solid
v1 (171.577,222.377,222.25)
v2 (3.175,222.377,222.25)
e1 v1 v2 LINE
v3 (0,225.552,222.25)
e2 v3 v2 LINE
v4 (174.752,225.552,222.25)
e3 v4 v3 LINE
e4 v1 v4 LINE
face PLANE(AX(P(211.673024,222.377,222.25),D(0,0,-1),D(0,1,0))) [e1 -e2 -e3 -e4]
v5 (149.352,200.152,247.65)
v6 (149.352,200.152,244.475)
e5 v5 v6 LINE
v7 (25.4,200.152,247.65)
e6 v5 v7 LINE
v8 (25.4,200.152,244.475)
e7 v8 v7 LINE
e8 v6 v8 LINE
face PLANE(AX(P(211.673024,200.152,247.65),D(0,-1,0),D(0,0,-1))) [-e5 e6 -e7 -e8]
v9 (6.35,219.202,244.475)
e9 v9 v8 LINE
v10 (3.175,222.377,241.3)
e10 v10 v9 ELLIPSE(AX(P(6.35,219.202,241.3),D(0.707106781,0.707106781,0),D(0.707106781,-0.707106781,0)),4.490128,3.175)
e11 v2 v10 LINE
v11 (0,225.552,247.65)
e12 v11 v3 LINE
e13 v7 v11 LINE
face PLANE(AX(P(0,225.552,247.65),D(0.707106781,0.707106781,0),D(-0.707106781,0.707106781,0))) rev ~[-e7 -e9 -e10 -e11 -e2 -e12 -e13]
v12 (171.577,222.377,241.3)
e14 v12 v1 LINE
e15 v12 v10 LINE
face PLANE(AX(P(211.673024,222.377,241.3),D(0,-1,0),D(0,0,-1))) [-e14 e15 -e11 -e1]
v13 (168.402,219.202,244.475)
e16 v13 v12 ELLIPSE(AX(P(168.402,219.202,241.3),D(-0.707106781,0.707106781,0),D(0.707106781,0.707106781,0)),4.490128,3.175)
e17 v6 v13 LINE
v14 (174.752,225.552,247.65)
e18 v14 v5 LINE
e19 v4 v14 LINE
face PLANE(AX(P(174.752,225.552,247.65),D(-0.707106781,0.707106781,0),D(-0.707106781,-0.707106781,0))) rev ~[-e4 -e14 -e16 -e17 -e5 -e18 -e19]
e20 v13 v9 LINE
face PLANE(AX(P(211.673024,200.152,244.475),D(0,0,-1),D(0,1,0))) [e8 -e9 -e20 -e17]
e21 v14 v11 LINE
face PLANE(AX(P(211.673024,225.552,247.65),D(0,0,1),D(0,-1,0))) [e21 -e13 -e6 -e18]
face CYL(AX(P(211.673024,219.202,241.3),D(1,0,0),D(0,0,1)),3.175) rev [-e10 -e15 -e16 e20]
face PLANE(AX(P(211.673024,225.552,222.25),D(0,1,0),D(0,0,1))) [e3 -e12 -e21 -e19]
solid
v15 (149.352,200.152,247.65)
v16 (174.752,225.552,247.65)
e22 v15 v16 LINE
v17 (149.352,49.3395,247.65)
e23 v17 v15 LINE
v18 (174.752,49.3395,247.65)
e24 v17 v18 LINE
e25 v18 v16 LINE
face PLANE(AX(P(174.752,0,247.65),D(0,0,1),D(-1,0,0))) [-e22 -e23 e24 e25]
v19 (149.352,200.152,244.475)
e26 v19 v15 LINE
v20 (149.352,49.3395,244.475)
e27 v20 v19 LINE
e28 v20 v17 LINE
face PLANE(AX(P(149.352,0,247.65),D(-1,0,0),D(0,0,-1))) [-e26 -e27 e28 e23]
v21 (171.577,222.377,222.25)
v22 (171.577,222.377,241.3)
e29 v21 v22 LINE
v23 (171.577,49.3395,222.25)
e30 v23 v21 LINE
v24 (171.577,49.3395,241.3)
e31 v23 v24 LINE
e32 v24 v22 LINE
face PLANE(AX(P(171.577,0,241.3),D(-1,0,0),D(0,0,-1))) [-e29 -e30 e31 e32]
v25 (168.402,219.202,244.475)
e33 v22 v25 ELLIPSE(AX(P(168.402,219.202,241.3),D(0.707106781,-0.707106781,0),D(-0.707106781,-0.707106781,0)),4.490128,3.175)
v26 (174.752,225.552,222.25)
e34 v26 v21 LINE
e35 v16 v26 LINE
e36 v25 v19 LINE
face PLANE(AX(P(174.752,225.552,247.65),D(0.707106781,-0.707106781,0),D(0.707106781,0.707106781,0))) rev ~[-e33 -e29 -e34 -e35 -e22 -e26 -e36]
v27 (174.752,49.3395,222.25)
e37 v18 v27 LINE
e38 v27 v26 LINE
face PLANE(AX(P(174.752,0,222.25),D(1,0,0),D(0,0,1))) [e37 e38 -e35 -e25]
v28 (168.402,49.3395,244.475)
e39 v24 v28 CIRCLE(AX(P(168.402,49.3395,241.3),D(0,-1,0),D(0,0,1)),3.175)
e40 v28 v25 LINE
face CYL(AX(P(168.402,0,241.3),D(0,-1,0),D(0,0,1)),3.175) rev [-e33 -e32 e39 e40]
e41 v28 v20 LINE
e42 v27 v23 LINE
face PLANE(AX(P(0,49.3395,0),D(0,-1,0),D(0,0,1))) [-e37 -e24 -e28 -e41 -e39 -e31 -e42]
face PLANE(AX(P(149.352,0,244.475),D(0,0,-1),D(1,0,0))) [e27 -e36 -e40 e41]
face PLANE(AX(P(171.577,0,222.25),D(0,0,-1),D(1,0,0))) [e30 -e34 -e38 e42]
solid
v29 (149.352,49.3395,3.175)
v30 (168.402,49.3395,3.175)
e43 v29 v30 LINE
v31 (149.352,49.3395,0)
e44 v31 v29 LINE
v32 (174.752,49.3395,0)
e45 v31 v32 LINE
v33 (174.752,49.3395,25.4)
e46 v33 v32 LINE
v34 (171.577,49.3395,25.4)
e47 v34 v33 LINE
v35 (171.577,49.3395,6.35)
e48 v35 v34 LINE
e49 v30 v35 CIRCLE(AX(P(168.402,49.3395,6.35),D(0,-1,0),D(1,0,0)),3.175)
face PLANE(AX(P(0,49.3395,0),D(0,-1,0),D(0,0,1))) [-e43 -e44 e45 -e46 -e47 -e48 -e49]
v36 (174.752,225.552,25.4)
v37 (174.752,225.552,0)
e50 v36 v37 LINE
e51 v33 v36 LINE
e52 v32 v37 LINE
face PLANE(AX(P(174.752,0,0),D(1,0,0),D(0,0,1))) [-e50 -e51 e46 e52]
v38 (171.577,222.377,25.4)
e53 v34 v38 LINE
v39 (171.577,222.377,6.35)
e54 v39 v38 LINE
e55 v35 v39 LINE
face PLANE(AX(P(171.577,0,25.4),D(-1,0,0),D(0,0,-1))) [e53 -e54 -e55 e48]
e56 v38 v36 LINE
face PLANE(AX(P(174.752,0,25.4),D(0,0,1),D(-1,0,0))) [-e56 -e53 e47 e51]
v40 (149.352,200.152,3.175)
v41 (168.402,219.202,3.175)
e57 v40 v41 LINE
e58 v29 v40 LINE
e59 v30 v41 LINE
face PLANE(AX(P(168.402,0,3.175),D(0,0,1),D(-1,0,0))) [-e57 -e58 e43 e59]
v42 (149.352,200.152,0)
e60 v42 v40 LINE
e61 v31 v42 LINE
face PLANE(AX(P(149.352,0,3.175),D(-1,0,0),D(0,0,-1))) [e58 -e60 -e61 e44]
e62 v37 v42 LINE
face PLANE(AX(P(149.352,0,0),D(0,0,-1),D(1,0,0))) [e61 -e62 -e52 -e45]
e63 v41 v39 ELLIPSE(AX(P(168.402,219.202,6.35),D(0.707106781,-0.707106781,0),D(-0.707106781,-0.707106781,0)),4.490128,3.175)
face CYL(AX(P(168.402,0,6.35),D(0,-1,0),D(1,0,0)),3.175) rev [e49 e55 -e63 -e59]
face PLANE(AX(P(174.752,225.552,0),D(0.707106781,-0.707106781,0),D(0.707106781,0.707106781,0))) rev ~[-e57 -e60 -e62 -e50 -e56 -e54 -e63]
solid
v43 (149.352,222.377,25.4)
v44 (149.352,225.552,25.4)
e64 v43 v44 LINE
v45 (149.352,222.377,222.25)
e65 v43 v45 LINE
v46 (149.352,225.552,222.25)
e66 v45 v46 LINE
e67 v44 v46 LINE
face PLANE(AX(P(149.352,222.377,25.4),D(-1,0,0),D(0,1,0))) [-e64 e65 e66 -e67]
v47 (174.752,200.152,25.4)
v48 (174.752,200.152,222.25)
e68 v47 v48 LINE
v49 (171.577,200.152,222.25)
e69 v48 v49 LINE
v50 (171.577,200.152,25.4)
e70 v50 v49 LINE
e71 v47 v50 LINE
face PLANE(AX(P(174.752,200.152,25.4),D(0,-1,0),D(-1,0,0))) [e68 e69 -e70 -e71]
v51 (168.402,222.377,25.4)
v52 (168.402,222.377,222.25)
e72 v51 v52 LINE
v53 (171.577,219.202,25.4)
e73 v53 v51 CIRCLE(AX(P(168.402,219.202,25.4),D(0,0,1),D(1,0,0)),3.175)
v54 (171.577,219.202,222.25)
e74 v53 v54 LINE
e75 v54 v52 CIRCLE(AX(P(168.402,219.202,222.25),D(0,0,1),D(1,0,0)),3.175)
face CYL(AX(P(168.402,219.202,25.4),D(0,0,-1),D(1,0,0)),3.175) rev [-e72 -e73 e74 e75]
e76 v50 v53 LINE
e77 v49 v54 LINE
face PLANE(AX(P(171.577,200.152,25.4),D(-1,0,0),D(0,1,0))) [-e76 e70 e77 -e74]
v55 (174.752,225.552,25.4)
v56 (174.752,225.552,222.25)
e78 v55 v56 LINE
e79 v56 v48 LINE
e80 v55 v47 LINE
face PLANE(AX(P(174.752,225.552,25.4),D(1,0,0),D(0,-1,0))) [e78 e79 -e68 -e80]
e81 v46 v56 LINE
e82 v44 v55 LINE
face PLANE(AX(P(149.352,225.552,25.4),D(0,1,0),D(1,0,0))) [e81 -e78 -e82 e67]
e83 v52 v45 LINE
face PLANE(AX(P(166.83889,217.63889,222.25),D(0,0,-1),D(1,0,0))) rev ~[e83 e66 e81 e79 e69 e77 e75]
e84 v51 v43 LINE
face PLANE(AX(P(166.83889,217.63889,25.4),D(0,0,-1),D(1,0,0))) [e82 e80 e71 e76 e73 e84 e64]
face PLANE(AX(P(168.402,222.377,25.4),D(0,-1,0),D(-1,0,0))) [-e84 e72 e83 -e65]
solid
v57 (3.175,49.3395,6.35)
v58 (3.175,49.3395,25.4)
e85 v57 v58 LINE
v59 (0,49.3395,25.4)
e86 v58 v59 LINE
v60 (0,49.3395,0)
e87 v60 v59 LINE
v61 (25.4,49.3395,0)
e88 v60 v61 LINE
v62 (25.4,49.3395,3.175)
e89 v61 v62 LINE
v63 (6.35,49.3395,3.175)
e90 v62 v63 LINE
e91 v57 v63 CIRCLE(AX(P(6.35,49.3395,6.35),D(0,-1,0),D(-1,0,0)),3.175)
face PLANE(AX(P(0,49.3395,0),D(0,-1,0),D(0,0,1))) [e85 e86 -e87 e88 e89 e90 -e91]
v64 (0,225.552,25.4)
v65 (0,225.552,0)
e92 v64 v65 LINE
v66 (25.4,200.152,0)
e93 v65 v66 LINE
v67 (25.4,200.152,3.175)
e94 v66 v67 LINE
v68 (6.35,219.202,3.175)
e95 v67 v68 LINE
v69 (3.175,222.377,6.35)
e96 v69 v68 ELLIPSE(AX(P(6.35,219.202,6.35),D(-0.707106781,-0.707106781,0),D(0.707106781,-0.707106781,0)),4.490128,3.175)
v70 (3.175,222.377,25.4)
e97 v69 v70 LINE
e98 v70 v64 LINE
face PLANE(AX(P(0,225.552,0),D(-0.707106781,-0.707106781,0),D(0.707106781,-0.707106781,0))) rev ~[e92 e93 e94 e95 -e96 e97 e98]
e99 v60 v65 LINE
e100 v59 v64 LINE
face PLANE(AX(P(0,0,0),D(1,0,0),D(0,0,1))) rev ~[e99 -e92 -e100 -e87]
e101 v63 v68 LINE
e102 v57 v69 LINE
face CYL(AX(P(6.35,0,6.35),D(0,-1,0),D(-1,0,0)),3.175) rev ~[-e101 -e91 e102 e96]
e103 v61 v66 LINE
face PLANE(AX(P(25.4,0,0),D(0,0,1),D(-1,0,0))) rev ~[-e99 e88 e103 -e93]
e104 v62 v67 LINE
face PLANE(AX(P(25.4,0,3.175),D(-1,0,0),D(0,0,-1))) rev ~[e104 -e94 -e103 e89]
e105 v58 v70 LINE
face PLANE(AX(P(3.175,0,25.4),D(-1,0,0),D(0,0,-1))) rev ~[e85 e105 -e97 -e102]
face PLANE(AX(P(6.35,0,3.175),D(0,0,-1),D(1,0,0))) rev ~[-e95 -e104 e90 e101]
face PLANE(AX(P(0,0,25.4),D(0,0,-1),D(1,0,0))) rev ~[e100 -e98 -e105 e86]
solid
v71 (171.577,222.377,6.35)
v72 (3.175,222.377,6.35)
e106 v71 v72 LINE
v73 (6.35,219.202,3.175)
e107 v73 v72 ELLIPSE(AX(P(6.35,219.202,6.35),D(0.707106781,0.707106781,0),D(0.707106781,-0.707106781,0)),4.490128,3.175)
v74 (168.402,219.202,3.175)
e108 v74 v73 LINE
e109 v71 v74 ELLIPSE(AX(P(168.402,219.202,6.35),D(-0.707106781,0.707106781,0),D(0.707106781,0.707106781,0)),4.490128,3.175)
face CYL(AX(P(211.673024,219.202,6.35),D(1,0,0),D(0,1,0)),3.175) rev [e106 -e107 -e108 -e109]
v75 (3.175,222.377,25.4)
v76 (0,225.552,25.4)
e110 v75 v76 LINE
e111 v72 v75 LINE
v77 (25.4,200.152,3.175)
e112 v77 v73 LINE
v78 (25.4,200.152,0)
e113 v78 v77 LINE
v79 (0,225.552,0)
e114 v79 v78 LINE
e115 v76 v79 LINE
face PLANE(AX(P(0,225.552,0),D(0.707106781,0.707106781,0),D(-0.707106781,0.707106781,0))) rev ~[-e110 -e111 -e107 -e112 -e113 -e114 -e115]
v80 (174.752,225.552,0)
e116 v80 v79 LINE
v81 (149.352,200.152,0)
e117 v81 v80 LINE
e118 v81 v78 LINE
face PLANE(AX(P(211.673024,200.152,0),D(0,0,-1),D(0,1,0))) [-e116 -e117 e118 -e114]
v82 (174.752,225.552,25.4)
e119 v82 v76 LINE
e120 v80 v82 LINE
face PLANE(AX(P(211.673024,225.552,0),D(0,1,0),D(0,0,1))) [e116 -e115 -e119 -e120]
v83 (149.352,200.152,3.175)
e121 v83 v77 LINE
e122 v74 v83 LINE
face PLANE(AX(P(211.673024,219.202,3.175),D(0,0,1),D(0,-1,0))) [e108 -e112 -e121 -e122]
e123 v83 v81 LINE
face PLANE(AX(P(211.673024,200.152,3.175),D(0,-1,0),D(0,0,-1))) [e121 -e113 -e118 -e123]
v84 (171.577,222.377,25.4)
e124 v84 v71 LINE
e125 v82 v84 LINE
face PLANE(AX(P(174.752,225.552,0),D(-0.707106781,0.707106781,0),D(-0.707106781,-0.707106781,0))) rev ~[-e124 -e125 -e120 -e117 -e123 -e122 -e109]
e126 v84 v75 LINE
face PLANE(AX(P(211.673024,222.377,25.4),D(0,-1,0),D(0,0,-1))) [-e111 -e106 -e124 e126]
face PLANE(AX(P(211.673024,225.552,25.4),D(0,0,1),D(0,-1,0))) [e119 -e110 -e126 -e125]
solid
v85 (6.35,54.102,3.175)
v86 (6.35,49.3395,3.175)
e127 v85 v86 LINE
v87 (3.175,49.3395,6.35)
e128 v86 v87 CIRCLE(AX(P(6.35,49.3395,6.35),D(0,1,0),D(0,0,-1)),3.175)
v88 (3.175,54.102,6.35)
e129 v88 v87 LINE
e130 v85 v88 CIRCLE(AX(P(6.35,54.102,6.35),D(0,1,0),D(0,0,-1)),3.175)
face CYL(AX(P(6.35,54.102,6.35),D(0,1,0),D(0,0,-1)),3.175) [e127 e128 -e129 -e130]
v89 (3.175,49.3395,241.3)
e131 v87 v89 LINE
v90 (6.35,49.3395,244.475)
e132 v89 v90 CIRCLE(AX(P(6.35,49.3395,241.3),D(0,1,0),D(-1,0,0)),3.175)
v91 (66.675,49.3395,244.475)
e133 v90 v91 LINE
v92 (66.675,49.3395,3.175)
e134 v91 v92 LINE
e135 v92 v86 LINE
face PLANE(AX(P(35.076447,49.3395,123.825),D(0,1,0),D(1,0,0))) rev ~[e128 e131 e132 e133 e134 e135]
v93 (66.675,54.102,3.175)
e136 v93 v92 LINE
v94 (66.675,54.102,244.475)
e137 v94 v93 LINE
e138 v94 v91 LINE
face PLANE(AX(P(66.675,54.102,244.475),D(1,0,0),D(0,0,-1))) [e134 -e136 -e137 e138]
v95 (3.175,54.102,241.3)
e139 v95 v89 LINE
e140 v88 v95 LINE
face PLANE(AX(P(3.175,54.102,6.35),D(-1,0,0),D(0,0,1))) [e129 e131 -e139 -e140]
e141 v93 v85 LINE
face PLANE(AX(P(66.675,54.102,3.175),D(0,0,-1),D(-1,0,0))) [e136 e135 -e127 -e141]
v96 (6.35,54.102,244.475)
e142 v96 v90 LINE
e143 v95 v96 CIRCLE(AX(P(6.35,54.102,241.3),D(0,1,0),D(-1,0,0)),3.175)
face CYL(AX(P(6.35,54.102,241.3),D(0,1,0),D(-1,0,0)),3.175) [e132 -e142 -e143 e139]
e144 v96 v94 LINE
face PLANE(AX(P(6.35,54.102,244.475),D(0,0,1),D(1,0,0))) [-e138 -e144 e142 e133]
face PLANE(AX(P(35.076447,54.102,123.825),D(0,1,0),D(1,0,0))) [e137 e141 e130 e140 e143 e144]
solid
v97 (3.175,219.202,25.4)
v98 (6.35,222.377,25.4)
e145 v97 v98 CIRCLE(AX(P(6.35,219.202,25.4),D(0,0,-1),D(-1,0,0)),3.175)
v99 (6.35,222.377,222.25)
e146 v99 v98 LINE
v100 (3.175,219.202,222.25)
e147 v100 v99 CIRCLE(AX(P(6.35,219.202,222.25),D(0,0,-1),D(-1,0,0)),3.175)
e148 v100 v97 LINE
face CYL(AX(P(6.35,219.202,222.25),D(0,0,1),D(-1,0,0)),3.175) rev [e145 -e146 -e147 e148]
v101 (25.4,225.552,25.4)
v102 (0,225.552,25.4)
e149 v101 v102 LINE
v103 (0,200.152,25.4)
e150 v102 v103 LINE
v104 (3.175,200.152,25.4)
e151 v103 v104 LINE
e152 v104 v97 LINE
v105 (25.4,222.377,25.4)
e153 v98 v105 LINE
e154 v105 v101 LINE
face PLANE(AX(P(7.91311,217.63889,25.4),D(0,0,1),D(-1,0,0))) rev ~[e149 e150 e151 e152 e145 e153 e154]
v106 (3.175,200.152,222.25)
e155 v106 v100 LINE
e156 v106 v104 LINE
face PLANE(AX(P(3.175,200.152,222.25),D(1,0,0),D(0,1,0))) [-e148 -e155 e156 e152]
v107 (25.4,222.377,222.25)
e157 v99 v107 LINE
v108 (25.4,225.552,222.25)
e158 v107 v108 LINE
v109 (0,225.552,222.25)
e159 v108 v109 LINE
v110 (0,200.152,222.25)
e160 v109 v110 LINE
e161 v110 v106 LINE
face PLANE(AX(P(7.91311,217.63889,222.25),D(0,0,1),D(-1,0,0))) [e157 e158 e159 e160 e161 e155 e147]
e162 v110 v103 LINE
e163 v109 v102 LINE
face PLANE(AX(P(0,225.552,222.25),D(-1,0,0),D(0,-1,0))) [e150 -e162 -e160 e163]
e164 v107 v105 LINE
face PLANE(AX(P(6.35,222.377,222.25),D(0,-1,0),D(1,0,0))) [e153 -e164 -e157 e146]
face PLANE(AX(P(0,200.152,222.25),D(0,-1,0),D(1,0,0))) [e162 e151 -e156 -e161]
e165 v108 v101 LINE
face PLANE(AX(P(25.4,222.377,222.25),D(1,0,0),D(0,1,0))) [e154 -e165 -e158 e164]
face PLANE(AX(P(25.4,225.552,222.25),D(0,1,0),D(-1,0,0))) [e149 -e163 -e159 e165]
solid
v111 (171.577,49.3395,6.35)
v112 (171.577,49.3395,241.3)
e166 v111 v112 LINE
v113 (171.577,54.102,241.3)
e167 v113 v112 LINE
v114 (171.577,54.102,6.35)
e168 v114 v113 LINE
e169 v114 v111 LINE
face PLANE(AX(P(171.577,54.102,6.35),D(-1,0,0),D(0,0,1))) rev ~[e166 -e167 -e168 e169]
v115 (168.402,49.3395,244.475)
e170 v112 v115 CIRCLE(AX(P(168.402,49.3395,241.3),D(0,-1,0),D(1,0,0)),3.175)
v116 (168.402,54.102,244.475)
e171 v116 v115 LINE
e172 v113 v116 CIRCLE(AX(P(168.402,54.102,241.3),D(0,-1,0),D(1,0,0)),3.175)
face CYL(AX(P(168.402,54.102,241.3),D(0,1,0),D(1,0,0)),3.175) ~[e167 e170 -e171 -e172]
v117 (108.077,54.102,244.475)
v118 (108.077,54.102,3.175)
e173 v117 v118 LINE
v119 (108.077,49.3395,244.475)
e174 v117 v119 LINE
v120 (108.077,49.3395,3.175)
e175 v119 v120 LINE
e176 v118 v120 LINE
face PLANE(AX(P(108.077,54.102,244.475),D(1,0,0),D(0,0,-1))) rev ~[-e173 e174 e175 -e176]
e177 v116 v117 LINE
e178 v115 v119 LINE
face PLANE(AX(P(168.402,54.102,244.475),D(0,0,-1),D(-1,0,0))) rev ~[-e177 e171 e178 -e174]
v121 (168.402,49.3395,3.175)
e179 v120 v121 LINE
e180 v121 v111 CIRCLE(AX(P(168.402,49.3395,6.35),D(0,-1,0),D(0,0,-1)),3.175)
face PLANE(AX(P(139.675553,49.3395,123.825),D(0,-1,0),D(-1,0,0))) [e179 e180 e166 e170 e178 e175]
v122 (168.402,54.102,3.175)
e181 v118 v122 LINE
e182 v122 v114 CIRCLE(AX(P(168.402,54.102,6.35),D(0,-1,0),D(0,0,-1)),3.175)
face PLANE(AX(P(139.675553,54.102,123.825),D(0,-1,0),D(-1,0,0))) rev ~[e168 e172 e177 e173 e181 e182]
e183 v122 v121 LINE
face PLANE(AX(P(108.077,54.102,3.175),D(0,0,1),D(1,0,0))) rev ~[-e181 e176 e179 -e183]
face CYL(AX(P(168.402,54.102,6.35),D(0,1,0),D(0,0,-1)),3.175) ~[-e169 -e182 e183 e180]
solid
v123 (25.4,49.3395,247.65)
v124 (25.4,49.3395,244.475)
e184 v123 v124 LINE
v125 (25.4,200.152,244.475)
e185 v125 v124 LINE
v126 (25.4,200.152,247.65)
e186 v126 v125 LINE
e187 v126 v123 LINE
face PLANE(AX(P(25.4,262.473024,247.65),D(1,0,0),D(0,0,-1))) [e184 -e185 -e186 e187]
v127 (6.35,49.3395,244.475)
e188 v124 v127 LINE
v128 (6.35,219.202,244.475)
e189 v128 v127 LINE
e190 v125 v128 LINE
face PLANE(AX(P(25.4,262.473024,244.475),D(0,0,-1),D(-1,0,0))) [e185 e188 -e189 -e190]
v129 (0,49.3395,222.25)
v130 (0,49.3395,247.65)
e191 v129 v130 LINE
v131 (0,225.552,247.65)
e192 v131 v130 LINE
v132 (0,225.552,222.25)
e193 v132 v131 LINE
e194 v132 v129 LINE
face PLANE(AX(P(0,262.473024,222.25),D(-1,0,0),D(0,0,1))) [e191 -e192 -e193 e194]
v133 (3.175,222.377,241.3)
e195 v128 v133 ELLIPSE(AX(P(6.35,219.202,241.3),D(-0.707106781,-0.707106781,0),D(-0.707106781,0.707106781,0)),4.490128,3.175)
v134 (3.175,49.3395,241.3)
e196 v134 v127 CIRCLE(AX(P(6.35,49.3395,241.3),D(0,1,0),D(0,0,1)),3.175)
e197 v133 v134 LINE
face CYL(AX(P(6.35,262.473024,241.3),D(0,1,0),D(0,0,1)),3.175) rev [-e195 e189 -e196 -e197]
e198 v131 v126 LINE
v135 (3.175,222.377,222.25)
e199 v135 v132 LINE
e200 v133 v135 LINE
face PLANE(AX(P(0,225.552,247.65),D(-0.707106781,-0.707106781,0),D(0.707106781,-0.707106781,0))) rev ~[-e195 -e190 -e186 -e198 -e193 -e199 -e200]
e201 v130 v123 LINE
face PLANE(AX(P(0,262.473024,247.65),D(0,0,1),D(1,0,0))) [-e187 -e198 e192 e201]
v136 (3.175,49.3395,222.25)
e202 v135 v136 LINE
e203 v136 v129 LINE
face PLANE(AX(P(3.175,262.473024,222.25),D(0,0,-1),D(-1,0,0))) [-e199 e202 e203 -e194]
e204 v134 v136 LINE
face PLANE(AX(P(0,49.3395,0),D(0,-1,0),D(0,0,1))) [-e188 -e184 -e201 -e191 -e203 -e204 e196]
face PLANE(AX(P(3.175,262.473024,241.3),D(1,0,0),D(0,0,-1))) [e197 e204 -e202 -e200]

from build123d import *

# Parameters (mm, degrees)
NGULO_DE_EXTREMOS_CUADRADOS_AL_LS_AL_LS_DEPTH       = 262.473024484
NGULO_DE_EXTREMOS_CUADRADOS_AL_LS_AL_3_DEPTH        = 248.594048969
NGULO_DE_EXTREMOS_CUADRADOS_AL_LS_AL_5_DEPTH        = 262.473024484
NGULO_DE_EXTREMOS_CUADRADOS_AL_LS_AL_6_DEPTH        = 262.473024484
NGULO_DE_EXTREMOS_CUADRADOS_AL_LS_AL_6_2_DEPTH      = 248.594048969
NGULO_DE_EXTREMOS_CUADRADOS_AL_LS_AL_6_3_DEPTH      = 36.921024484
NGULO_DE_EXTREMOS_CUADRADOS_AL_LS_AL_6_3_DEPTH_BACK = 225.552
NGULO_DE_EXTREMOS_CUADRADOS_AL_LS_AL_10_DEPTH       = 196.85
NGULO_DE_EXTREMOS_CUADRADOS_AL_LS_AL_11_DEPTH       = 196.85
SALIENTE_EXTRUIR1_DEPTH                             = 4.7625
SALIENTE_EXTRUIR1_2_DEPTH                           = 4.7625
CROQUIS4_W                                          = 247.65
CROQUIS4_H                                          = 49.3395
CORTAR_EXTRUIR1_DEPTH                               = 378.812769382


with BuildPart() as part:
    # Sketch1 → ngulo de extremos cuadrados al ls AL LS (new body)
    with BuildSketch(Plane.XZ):
        with BuildLine():
            Line((0, 0), (0, 25.4))
            Line((0, 25.4), (3.175, 25.4))
            Line((3.175, 25.4), (3.175, 6.35))
            ThreePointArc((3.175, 6.35), (4.10493597, 4.10493597), (6.35, 3.175))
            Line((6.35, 3.175), (25.4, 3.175))
            Line((25.4, 3.175), (25.4, 0))
            Line((25.4, 0), (0, 0))
        make_face()
    extrude(amount=-NGULO_DE_EXTREMOS_CUADRADOS_AL_LS_AL_LS_DEPTH)

    # ngulo de extremos cuadrados al ls AL 2
    split(bisect_by=Plane(origin=(0, 225.552, 0), x_dir=(0.707106781, -0.707106781, 0), z_dir=(-0.707106781, -0.707106781, 0)), keep=Keep.TOP)


with BuildPart() as body_2:
    # Sketch1 on segment 2 (carried to segment 2) → ngulo de extremos cuadrados al ls AL 3 (new body)
    with BuildSketch(Plane(origin=(211.673024484, 225.552, 0), x_dir=(0, -1, 0), z_dir=(-1, 0, 0))):
        with BuildLine():
            Line((0, 0), (0, 25.4))
            Line((0, 25.4), (3.175, 25.4))
            Line((3.175, 25.4), (3.175, 6.35))
            ThreePointArc((3.175, 6.35), (4.10493597, 4.10493597), (6.35, 3.175))
            Line((6.35, 3.175), (25.4, 3.175))
            Line((25.4, 3.175), (25.4, 0))
            Line((25.4, 0), (0, 0))
        make_face()
    extrude(amount=NGULO_DE_EXTREMOS_CUADRADOS_AL_LS_AL_3_DEPTH)

    # ngulo de extremos cuadrados al ls AL 3 m
    split(bisect_by=Plane(origin=(0, 225.552, 0), x_dir=(-0.707106781, 0.707106781, 0), z_dir=(0.707106781, 0.707106781, 0)), keep=Keep.TOP)

    # ngulo de extremos cuadrados al ls AL 4
    split(bisect_by=Plane(origin=(174.752, 225.552, 0), x_dir=(-0.707106781, -0.707106781, 0), z_dir=(-0.707106781, 0.707106781, 0)), keep=Keep.TOP)


with BuildPart() as body_3:
    # Sketch1 on segment 3 (carried to segment 3) → ngulo de extremos cuadrados al ls AL 5 (new body)
    with BuildSketch(Plane(origin=(174.752, 0, 0), x_dir=(-1, 0, 0), z_dir=(0, 1, 0))):
        with BuildLine():
            Line((0, 0), (0, 25.4))
            Line((0, 25.4), (3.175, 25.4))
            Line((3.175, 25.4), (3.175, 6.35))
            ThreePointArc((3.175, 6.35), (4.10493597, 4.10493597), (6.35, 3.175))
            Line((6.35, 3.175), (25.4, 3.175))
            Line((25.4, 3.175), (25.4, 0))
            Line((25.4, 0), (0, 0))
        make_face()
    extrude(amount=NGULO_DE_EXTREMOS_CUADRADOS_AL_LS_AL_5_DEPTH)

    # ngulo de extremos cuadrados al ls AL 5 m
    split(bisect_by=Plane(origin=(174.752, 225.552, 0), x_dir=(0.707106781, 0.707106781, 0), z_dir=(0.707106781, -0.707106781, 0)), keep=Keep.TOP)


with BuildPart() as body_4:
    # Sketch12 on segment 1 (carried to segment 1) → ngulo de extremos cuadrados al ls AL 6 (new body)
    with BuildSketch(Plane(origin=(0, 262.473024484, 247.65), x_dir=(0, 0, -1), z_dir=(0, -1, 0))):
        with BuildLine():
            Line((0, 0), (0, 25.4))
            Line((0, 25.4), (3.175, 25.4))
            Line((3.175, 25.4), (3.175, 6.35))
            ThreePointArc((3.175, 6.35), (4.10493597, 4.10493597), (6.35, 3.175))
            Line((6.35, 3.175), (25.4, 3.175))
            Line((25.4, 3.175), (25.4, 0))
            Line((25.4, 0), (0, 0))
        make_face()
    extrude(amount=NGULO_DE_EXTREMOS_CUADRADOS_AL_LS_AL_6_DEPTH)

    # ngulo de extremos cuadrados al ls AL 6 m
    split(bisect_by=Plane(origin=(0, 225.552, 247.65), x_dir=(0.707106781, -0.707106781, 0), z_dir=(-0.707106781, -0.707106781, 0)), keep=Keep.TOP)


with BuildPart() as body_5:
    # Sketch12 on segment 2 (carried to segment 2) → ngulo de extremos cuadrados al ls AL 6 2 (new body)
    with BuildSketch(Plane(origin=(211.673024484, 225.552, 247.65), x_dir=(0, 0, -1), z_dir=(-1, 0, 0))):
        with BuildLine():
            Line((0, 0), (0, 25.4))
            Line((0, 25.4), (3.175, 25.4))
            Line((3.175, 25.4), (3.175, 6.35))
            ThreePointArc((3.175, 6.35), (4.10493597, 4.10493597), (6.35, 3.175))
            Line((6.35, 3.175), (25.4, 3.175))
            Line((25.4, 3.175), (25.4, 0))
            Line((25.4, 0), (0, 0))
        make_face()
    extrude(amount=NGULO_DE_EXTREMOS_CUADRADOS_AL_LS_AL_6_2_DEPTH)

    # ngulo de extremos cuadrados al ls AL 7
    split(bisect_by=Plane(origin=(0, 225.552, 247.65), x_dir=(-0.707106781, 0.707106781, 0), z_dir=(0.707106781, 0.707106781, 0)), keep=Keep.TOP)

    # ngulo de extremos cuadrados al ls AL 8
    split(bisect_by=Plane(origin=(174.752, 225.552, 247.65), x_dir=(-0.707106781, -0.707106781, 0), z_dir=(-0.707106781, 0.707106781, 0)), keep=Keep.TOP)


with BuildPart() as body_6:
    # Sketch12 → ngulo de extremos cuadrados al ls AL 6 3 (new, two sides: drawn at the far end of the back side and taken through both)
    with BuildSketch(Plane(origin=(174.752, 225.552, 247.65), x_dir=(0, 0, -1), z_dir=(0, 1, 0)).offset(-NGULO_DE_EXTREMOS_CUADRADOS_AL_LS_AL_6_3_DEPTH_BACK)):
        with BuildLine():
            Line((0, 0), (0, 25.4))
            Line((0, 25.4), (3.175, 25.4))
            Line((3.175, 25.4), (3.175, 6.35))
            ThreePointArc((3.175, 6.35), (4.10493597, 4.10493597), (6.35, 3.175))
            Line((6.35, 3.175), (25.4, 3.175))
            Line((25.4, 3.175), (25.4, 0))
            Line((25.4, 0), (0, 0))
        make_face()
    extrude(amount=NGULO_DE_EXTREMOS_CUADRADOS_AL_LS_AL_6_3_DEPTH + NGULO_DE_EXTREMOS_CUADRADOS_AL_LS_AL_6_3_DEPTH_BACK)

    # ngulo de extremos cuadrados al ls AL 9
    split(bisect_by=Plane(origin=(174.752, 225.552, 247.65), x_dir=(0.707106781, 0.707106781, 0), z_dir=(0.707106781, -0.707106781, 0)), keep=Keep.TOP)


with BuildPart() as body_7:
    # Sketch13 → ngulo de extremos cuadrados al ls AL 10 (new body)
    with BuildSketch(Plane(origin=(174.752, 225.552, 25.4), x_dir=(-1, 0, 0), z_dir=(0, 0, 1))):
        with BuildLine():
            Line((0, 0), (0, 25.4))
            Line((0, 25.4), (3.175, 25.4))
            Line((3.175, 25.4), (3.175, 6.35))
            ThreePointArc((3.175, 6.35), (4.10493597, 4.10493597), (6.35, 3.175))
            Line((6.35, 3.175), (25.4, 3.175))
            Line((25.4, 3.175), (25.4, 0))
            Line((25.4, 0), (0, 0))
        make_face()
    extrude(amount=NGULO_DE_EXTREMOS_CUADRADOS_AL_LS_AL_10_DEPTH)


with BuildPart() as body_8:
    # Sketch14 → ngulo de extremos cuadrados al ls AL 11 (new body)
    with BuildSketch(Plane(origin=(0, 225.552, 222.25), x_dir=(1, 0, 0), z_dir=(0, 0, -1))):
        with BuildLine():
            Line((0, 0), (0, 25.4))
            Line((0, 25.4), (3.175, 25.4))
            Line((3.175, 25.4), (3.175, 6.35))
            ThreePointArc((3.175, 6.35), (4.10493597, 4.10493597), (6.35, 3.175))
            Line((6.35, 3.175), (25.4, 3.175))
            Line((25.4, 3.175), (25.4, 0))
            Line((25.4, 0), (0, 0))
        make_face()
    extrude(amount=NGULO_DE_EXTREMOS_CUADRADOS_AL_LS_AL_11_DEPTH)


with BuildPart() as body_9:
    # Croquis3 → Saliente-Extruir1 (new body)
    with BuildSketch(Plane(origin=(0, 54.102, 0), x_dir=(-1, 0, 0), z_dir=(0, -1, 0))):
        with BuildLine():
            Line((-168.402, -244.475), (-108.077, -244.475))
            Line((-108.077, -244.475), (-108.077, -3.175))
            Line((-108.077, -3.175), (-168.402, -3.175))
            ThreePointArc((-168.402, -3.175), (-170.64706403, -4.10493597), (-171.577, -6.35))
            Line((-171.577, -6.35), (-171.577, -241.3))
            ThreePointArc((-171.577, -241.3), (-170.64706403, -243.54506403), (-168.402, -244.475))
        make_face()
    extrude(amount=SALIENTE_EXTRUIR1_DEPTH)


with BuildPart() as body_10:
    # Croquis3 → Saliente-Extruir1 2 (new body)
    with BuildSketch(Plane(origin=(0, 54.102, 0), x_dir=(-1, 0, 0), z_dir=(0, -1, 0))):
        with BuildLine():
            Line((-66.675, -3.175), (-6.35, -3.175))
            ThreePointArc((-6.35, -3.175), (-4.10493597, -4.10493597), (-3.175, -6.35))
            Line((-3.175, -6.35), (-3.175, -241.3))
            ThreePointArc((-3.175, -241.3), (-4.10493597, -243.54506403), (-6.35, -244.475))
            Line((-6.35, -244.475), (-66.675, -244.475))
            Line((-66.675, -244.475), (-66.675, -3.175))
        make_face()
    extrude(amount=SALIENTE_EXTRUIR1_2_DEPTH)


with BuildPart() as cortar_extruir1_tool:
    # Croquis4 → Cortar-Extruir1 (new, through all)
    with BuildSketch(Plane.ZY):
        with Locations((123.825, 24.66975)):
            Rectangle(CROQUIS4_W, CROQUIS4_H)
    extrude(amount=-CORTAR_EXTRUIR1_DEPTH)


with BuildPart() as part_1:
    add(part.part)

    # Cortar-Extruir1: cut by cortar_extruir1_tool
    add(cortar_extruir1_tool.part, mode=Mode.SUBTRACT)


with BuildPart() as body_3_1:
    add(body_3.part)

    # Cortar-Extruir1: cut by cortar_extruir1_tool
    add(cortar_extruir1_tool.part, mode=Mode.SUBTRACT)


with BuildPart() as body_4_1:
    add(body_4.part)

    # Cortar-Extruir1: cut by cortar_extruir1_tool
    add(cortar_extruir1_tool.part, mode=Mode.SUBTRACT)


with BuildPart() as body_6_1:
    add(body_6.part)

    # Cortar-Extruir1: cut by cortar_extruir1_tool
    add(cortar_extruir1_tool.part, mode=Mode.SUBTRACT)


solid = Compound([body_2.part, body_5.part, body_7.part, body_8.part, body_9.part, body_10.part, part_1.part, body_3_1.part, body_4_1.part, body_6_1.part])
